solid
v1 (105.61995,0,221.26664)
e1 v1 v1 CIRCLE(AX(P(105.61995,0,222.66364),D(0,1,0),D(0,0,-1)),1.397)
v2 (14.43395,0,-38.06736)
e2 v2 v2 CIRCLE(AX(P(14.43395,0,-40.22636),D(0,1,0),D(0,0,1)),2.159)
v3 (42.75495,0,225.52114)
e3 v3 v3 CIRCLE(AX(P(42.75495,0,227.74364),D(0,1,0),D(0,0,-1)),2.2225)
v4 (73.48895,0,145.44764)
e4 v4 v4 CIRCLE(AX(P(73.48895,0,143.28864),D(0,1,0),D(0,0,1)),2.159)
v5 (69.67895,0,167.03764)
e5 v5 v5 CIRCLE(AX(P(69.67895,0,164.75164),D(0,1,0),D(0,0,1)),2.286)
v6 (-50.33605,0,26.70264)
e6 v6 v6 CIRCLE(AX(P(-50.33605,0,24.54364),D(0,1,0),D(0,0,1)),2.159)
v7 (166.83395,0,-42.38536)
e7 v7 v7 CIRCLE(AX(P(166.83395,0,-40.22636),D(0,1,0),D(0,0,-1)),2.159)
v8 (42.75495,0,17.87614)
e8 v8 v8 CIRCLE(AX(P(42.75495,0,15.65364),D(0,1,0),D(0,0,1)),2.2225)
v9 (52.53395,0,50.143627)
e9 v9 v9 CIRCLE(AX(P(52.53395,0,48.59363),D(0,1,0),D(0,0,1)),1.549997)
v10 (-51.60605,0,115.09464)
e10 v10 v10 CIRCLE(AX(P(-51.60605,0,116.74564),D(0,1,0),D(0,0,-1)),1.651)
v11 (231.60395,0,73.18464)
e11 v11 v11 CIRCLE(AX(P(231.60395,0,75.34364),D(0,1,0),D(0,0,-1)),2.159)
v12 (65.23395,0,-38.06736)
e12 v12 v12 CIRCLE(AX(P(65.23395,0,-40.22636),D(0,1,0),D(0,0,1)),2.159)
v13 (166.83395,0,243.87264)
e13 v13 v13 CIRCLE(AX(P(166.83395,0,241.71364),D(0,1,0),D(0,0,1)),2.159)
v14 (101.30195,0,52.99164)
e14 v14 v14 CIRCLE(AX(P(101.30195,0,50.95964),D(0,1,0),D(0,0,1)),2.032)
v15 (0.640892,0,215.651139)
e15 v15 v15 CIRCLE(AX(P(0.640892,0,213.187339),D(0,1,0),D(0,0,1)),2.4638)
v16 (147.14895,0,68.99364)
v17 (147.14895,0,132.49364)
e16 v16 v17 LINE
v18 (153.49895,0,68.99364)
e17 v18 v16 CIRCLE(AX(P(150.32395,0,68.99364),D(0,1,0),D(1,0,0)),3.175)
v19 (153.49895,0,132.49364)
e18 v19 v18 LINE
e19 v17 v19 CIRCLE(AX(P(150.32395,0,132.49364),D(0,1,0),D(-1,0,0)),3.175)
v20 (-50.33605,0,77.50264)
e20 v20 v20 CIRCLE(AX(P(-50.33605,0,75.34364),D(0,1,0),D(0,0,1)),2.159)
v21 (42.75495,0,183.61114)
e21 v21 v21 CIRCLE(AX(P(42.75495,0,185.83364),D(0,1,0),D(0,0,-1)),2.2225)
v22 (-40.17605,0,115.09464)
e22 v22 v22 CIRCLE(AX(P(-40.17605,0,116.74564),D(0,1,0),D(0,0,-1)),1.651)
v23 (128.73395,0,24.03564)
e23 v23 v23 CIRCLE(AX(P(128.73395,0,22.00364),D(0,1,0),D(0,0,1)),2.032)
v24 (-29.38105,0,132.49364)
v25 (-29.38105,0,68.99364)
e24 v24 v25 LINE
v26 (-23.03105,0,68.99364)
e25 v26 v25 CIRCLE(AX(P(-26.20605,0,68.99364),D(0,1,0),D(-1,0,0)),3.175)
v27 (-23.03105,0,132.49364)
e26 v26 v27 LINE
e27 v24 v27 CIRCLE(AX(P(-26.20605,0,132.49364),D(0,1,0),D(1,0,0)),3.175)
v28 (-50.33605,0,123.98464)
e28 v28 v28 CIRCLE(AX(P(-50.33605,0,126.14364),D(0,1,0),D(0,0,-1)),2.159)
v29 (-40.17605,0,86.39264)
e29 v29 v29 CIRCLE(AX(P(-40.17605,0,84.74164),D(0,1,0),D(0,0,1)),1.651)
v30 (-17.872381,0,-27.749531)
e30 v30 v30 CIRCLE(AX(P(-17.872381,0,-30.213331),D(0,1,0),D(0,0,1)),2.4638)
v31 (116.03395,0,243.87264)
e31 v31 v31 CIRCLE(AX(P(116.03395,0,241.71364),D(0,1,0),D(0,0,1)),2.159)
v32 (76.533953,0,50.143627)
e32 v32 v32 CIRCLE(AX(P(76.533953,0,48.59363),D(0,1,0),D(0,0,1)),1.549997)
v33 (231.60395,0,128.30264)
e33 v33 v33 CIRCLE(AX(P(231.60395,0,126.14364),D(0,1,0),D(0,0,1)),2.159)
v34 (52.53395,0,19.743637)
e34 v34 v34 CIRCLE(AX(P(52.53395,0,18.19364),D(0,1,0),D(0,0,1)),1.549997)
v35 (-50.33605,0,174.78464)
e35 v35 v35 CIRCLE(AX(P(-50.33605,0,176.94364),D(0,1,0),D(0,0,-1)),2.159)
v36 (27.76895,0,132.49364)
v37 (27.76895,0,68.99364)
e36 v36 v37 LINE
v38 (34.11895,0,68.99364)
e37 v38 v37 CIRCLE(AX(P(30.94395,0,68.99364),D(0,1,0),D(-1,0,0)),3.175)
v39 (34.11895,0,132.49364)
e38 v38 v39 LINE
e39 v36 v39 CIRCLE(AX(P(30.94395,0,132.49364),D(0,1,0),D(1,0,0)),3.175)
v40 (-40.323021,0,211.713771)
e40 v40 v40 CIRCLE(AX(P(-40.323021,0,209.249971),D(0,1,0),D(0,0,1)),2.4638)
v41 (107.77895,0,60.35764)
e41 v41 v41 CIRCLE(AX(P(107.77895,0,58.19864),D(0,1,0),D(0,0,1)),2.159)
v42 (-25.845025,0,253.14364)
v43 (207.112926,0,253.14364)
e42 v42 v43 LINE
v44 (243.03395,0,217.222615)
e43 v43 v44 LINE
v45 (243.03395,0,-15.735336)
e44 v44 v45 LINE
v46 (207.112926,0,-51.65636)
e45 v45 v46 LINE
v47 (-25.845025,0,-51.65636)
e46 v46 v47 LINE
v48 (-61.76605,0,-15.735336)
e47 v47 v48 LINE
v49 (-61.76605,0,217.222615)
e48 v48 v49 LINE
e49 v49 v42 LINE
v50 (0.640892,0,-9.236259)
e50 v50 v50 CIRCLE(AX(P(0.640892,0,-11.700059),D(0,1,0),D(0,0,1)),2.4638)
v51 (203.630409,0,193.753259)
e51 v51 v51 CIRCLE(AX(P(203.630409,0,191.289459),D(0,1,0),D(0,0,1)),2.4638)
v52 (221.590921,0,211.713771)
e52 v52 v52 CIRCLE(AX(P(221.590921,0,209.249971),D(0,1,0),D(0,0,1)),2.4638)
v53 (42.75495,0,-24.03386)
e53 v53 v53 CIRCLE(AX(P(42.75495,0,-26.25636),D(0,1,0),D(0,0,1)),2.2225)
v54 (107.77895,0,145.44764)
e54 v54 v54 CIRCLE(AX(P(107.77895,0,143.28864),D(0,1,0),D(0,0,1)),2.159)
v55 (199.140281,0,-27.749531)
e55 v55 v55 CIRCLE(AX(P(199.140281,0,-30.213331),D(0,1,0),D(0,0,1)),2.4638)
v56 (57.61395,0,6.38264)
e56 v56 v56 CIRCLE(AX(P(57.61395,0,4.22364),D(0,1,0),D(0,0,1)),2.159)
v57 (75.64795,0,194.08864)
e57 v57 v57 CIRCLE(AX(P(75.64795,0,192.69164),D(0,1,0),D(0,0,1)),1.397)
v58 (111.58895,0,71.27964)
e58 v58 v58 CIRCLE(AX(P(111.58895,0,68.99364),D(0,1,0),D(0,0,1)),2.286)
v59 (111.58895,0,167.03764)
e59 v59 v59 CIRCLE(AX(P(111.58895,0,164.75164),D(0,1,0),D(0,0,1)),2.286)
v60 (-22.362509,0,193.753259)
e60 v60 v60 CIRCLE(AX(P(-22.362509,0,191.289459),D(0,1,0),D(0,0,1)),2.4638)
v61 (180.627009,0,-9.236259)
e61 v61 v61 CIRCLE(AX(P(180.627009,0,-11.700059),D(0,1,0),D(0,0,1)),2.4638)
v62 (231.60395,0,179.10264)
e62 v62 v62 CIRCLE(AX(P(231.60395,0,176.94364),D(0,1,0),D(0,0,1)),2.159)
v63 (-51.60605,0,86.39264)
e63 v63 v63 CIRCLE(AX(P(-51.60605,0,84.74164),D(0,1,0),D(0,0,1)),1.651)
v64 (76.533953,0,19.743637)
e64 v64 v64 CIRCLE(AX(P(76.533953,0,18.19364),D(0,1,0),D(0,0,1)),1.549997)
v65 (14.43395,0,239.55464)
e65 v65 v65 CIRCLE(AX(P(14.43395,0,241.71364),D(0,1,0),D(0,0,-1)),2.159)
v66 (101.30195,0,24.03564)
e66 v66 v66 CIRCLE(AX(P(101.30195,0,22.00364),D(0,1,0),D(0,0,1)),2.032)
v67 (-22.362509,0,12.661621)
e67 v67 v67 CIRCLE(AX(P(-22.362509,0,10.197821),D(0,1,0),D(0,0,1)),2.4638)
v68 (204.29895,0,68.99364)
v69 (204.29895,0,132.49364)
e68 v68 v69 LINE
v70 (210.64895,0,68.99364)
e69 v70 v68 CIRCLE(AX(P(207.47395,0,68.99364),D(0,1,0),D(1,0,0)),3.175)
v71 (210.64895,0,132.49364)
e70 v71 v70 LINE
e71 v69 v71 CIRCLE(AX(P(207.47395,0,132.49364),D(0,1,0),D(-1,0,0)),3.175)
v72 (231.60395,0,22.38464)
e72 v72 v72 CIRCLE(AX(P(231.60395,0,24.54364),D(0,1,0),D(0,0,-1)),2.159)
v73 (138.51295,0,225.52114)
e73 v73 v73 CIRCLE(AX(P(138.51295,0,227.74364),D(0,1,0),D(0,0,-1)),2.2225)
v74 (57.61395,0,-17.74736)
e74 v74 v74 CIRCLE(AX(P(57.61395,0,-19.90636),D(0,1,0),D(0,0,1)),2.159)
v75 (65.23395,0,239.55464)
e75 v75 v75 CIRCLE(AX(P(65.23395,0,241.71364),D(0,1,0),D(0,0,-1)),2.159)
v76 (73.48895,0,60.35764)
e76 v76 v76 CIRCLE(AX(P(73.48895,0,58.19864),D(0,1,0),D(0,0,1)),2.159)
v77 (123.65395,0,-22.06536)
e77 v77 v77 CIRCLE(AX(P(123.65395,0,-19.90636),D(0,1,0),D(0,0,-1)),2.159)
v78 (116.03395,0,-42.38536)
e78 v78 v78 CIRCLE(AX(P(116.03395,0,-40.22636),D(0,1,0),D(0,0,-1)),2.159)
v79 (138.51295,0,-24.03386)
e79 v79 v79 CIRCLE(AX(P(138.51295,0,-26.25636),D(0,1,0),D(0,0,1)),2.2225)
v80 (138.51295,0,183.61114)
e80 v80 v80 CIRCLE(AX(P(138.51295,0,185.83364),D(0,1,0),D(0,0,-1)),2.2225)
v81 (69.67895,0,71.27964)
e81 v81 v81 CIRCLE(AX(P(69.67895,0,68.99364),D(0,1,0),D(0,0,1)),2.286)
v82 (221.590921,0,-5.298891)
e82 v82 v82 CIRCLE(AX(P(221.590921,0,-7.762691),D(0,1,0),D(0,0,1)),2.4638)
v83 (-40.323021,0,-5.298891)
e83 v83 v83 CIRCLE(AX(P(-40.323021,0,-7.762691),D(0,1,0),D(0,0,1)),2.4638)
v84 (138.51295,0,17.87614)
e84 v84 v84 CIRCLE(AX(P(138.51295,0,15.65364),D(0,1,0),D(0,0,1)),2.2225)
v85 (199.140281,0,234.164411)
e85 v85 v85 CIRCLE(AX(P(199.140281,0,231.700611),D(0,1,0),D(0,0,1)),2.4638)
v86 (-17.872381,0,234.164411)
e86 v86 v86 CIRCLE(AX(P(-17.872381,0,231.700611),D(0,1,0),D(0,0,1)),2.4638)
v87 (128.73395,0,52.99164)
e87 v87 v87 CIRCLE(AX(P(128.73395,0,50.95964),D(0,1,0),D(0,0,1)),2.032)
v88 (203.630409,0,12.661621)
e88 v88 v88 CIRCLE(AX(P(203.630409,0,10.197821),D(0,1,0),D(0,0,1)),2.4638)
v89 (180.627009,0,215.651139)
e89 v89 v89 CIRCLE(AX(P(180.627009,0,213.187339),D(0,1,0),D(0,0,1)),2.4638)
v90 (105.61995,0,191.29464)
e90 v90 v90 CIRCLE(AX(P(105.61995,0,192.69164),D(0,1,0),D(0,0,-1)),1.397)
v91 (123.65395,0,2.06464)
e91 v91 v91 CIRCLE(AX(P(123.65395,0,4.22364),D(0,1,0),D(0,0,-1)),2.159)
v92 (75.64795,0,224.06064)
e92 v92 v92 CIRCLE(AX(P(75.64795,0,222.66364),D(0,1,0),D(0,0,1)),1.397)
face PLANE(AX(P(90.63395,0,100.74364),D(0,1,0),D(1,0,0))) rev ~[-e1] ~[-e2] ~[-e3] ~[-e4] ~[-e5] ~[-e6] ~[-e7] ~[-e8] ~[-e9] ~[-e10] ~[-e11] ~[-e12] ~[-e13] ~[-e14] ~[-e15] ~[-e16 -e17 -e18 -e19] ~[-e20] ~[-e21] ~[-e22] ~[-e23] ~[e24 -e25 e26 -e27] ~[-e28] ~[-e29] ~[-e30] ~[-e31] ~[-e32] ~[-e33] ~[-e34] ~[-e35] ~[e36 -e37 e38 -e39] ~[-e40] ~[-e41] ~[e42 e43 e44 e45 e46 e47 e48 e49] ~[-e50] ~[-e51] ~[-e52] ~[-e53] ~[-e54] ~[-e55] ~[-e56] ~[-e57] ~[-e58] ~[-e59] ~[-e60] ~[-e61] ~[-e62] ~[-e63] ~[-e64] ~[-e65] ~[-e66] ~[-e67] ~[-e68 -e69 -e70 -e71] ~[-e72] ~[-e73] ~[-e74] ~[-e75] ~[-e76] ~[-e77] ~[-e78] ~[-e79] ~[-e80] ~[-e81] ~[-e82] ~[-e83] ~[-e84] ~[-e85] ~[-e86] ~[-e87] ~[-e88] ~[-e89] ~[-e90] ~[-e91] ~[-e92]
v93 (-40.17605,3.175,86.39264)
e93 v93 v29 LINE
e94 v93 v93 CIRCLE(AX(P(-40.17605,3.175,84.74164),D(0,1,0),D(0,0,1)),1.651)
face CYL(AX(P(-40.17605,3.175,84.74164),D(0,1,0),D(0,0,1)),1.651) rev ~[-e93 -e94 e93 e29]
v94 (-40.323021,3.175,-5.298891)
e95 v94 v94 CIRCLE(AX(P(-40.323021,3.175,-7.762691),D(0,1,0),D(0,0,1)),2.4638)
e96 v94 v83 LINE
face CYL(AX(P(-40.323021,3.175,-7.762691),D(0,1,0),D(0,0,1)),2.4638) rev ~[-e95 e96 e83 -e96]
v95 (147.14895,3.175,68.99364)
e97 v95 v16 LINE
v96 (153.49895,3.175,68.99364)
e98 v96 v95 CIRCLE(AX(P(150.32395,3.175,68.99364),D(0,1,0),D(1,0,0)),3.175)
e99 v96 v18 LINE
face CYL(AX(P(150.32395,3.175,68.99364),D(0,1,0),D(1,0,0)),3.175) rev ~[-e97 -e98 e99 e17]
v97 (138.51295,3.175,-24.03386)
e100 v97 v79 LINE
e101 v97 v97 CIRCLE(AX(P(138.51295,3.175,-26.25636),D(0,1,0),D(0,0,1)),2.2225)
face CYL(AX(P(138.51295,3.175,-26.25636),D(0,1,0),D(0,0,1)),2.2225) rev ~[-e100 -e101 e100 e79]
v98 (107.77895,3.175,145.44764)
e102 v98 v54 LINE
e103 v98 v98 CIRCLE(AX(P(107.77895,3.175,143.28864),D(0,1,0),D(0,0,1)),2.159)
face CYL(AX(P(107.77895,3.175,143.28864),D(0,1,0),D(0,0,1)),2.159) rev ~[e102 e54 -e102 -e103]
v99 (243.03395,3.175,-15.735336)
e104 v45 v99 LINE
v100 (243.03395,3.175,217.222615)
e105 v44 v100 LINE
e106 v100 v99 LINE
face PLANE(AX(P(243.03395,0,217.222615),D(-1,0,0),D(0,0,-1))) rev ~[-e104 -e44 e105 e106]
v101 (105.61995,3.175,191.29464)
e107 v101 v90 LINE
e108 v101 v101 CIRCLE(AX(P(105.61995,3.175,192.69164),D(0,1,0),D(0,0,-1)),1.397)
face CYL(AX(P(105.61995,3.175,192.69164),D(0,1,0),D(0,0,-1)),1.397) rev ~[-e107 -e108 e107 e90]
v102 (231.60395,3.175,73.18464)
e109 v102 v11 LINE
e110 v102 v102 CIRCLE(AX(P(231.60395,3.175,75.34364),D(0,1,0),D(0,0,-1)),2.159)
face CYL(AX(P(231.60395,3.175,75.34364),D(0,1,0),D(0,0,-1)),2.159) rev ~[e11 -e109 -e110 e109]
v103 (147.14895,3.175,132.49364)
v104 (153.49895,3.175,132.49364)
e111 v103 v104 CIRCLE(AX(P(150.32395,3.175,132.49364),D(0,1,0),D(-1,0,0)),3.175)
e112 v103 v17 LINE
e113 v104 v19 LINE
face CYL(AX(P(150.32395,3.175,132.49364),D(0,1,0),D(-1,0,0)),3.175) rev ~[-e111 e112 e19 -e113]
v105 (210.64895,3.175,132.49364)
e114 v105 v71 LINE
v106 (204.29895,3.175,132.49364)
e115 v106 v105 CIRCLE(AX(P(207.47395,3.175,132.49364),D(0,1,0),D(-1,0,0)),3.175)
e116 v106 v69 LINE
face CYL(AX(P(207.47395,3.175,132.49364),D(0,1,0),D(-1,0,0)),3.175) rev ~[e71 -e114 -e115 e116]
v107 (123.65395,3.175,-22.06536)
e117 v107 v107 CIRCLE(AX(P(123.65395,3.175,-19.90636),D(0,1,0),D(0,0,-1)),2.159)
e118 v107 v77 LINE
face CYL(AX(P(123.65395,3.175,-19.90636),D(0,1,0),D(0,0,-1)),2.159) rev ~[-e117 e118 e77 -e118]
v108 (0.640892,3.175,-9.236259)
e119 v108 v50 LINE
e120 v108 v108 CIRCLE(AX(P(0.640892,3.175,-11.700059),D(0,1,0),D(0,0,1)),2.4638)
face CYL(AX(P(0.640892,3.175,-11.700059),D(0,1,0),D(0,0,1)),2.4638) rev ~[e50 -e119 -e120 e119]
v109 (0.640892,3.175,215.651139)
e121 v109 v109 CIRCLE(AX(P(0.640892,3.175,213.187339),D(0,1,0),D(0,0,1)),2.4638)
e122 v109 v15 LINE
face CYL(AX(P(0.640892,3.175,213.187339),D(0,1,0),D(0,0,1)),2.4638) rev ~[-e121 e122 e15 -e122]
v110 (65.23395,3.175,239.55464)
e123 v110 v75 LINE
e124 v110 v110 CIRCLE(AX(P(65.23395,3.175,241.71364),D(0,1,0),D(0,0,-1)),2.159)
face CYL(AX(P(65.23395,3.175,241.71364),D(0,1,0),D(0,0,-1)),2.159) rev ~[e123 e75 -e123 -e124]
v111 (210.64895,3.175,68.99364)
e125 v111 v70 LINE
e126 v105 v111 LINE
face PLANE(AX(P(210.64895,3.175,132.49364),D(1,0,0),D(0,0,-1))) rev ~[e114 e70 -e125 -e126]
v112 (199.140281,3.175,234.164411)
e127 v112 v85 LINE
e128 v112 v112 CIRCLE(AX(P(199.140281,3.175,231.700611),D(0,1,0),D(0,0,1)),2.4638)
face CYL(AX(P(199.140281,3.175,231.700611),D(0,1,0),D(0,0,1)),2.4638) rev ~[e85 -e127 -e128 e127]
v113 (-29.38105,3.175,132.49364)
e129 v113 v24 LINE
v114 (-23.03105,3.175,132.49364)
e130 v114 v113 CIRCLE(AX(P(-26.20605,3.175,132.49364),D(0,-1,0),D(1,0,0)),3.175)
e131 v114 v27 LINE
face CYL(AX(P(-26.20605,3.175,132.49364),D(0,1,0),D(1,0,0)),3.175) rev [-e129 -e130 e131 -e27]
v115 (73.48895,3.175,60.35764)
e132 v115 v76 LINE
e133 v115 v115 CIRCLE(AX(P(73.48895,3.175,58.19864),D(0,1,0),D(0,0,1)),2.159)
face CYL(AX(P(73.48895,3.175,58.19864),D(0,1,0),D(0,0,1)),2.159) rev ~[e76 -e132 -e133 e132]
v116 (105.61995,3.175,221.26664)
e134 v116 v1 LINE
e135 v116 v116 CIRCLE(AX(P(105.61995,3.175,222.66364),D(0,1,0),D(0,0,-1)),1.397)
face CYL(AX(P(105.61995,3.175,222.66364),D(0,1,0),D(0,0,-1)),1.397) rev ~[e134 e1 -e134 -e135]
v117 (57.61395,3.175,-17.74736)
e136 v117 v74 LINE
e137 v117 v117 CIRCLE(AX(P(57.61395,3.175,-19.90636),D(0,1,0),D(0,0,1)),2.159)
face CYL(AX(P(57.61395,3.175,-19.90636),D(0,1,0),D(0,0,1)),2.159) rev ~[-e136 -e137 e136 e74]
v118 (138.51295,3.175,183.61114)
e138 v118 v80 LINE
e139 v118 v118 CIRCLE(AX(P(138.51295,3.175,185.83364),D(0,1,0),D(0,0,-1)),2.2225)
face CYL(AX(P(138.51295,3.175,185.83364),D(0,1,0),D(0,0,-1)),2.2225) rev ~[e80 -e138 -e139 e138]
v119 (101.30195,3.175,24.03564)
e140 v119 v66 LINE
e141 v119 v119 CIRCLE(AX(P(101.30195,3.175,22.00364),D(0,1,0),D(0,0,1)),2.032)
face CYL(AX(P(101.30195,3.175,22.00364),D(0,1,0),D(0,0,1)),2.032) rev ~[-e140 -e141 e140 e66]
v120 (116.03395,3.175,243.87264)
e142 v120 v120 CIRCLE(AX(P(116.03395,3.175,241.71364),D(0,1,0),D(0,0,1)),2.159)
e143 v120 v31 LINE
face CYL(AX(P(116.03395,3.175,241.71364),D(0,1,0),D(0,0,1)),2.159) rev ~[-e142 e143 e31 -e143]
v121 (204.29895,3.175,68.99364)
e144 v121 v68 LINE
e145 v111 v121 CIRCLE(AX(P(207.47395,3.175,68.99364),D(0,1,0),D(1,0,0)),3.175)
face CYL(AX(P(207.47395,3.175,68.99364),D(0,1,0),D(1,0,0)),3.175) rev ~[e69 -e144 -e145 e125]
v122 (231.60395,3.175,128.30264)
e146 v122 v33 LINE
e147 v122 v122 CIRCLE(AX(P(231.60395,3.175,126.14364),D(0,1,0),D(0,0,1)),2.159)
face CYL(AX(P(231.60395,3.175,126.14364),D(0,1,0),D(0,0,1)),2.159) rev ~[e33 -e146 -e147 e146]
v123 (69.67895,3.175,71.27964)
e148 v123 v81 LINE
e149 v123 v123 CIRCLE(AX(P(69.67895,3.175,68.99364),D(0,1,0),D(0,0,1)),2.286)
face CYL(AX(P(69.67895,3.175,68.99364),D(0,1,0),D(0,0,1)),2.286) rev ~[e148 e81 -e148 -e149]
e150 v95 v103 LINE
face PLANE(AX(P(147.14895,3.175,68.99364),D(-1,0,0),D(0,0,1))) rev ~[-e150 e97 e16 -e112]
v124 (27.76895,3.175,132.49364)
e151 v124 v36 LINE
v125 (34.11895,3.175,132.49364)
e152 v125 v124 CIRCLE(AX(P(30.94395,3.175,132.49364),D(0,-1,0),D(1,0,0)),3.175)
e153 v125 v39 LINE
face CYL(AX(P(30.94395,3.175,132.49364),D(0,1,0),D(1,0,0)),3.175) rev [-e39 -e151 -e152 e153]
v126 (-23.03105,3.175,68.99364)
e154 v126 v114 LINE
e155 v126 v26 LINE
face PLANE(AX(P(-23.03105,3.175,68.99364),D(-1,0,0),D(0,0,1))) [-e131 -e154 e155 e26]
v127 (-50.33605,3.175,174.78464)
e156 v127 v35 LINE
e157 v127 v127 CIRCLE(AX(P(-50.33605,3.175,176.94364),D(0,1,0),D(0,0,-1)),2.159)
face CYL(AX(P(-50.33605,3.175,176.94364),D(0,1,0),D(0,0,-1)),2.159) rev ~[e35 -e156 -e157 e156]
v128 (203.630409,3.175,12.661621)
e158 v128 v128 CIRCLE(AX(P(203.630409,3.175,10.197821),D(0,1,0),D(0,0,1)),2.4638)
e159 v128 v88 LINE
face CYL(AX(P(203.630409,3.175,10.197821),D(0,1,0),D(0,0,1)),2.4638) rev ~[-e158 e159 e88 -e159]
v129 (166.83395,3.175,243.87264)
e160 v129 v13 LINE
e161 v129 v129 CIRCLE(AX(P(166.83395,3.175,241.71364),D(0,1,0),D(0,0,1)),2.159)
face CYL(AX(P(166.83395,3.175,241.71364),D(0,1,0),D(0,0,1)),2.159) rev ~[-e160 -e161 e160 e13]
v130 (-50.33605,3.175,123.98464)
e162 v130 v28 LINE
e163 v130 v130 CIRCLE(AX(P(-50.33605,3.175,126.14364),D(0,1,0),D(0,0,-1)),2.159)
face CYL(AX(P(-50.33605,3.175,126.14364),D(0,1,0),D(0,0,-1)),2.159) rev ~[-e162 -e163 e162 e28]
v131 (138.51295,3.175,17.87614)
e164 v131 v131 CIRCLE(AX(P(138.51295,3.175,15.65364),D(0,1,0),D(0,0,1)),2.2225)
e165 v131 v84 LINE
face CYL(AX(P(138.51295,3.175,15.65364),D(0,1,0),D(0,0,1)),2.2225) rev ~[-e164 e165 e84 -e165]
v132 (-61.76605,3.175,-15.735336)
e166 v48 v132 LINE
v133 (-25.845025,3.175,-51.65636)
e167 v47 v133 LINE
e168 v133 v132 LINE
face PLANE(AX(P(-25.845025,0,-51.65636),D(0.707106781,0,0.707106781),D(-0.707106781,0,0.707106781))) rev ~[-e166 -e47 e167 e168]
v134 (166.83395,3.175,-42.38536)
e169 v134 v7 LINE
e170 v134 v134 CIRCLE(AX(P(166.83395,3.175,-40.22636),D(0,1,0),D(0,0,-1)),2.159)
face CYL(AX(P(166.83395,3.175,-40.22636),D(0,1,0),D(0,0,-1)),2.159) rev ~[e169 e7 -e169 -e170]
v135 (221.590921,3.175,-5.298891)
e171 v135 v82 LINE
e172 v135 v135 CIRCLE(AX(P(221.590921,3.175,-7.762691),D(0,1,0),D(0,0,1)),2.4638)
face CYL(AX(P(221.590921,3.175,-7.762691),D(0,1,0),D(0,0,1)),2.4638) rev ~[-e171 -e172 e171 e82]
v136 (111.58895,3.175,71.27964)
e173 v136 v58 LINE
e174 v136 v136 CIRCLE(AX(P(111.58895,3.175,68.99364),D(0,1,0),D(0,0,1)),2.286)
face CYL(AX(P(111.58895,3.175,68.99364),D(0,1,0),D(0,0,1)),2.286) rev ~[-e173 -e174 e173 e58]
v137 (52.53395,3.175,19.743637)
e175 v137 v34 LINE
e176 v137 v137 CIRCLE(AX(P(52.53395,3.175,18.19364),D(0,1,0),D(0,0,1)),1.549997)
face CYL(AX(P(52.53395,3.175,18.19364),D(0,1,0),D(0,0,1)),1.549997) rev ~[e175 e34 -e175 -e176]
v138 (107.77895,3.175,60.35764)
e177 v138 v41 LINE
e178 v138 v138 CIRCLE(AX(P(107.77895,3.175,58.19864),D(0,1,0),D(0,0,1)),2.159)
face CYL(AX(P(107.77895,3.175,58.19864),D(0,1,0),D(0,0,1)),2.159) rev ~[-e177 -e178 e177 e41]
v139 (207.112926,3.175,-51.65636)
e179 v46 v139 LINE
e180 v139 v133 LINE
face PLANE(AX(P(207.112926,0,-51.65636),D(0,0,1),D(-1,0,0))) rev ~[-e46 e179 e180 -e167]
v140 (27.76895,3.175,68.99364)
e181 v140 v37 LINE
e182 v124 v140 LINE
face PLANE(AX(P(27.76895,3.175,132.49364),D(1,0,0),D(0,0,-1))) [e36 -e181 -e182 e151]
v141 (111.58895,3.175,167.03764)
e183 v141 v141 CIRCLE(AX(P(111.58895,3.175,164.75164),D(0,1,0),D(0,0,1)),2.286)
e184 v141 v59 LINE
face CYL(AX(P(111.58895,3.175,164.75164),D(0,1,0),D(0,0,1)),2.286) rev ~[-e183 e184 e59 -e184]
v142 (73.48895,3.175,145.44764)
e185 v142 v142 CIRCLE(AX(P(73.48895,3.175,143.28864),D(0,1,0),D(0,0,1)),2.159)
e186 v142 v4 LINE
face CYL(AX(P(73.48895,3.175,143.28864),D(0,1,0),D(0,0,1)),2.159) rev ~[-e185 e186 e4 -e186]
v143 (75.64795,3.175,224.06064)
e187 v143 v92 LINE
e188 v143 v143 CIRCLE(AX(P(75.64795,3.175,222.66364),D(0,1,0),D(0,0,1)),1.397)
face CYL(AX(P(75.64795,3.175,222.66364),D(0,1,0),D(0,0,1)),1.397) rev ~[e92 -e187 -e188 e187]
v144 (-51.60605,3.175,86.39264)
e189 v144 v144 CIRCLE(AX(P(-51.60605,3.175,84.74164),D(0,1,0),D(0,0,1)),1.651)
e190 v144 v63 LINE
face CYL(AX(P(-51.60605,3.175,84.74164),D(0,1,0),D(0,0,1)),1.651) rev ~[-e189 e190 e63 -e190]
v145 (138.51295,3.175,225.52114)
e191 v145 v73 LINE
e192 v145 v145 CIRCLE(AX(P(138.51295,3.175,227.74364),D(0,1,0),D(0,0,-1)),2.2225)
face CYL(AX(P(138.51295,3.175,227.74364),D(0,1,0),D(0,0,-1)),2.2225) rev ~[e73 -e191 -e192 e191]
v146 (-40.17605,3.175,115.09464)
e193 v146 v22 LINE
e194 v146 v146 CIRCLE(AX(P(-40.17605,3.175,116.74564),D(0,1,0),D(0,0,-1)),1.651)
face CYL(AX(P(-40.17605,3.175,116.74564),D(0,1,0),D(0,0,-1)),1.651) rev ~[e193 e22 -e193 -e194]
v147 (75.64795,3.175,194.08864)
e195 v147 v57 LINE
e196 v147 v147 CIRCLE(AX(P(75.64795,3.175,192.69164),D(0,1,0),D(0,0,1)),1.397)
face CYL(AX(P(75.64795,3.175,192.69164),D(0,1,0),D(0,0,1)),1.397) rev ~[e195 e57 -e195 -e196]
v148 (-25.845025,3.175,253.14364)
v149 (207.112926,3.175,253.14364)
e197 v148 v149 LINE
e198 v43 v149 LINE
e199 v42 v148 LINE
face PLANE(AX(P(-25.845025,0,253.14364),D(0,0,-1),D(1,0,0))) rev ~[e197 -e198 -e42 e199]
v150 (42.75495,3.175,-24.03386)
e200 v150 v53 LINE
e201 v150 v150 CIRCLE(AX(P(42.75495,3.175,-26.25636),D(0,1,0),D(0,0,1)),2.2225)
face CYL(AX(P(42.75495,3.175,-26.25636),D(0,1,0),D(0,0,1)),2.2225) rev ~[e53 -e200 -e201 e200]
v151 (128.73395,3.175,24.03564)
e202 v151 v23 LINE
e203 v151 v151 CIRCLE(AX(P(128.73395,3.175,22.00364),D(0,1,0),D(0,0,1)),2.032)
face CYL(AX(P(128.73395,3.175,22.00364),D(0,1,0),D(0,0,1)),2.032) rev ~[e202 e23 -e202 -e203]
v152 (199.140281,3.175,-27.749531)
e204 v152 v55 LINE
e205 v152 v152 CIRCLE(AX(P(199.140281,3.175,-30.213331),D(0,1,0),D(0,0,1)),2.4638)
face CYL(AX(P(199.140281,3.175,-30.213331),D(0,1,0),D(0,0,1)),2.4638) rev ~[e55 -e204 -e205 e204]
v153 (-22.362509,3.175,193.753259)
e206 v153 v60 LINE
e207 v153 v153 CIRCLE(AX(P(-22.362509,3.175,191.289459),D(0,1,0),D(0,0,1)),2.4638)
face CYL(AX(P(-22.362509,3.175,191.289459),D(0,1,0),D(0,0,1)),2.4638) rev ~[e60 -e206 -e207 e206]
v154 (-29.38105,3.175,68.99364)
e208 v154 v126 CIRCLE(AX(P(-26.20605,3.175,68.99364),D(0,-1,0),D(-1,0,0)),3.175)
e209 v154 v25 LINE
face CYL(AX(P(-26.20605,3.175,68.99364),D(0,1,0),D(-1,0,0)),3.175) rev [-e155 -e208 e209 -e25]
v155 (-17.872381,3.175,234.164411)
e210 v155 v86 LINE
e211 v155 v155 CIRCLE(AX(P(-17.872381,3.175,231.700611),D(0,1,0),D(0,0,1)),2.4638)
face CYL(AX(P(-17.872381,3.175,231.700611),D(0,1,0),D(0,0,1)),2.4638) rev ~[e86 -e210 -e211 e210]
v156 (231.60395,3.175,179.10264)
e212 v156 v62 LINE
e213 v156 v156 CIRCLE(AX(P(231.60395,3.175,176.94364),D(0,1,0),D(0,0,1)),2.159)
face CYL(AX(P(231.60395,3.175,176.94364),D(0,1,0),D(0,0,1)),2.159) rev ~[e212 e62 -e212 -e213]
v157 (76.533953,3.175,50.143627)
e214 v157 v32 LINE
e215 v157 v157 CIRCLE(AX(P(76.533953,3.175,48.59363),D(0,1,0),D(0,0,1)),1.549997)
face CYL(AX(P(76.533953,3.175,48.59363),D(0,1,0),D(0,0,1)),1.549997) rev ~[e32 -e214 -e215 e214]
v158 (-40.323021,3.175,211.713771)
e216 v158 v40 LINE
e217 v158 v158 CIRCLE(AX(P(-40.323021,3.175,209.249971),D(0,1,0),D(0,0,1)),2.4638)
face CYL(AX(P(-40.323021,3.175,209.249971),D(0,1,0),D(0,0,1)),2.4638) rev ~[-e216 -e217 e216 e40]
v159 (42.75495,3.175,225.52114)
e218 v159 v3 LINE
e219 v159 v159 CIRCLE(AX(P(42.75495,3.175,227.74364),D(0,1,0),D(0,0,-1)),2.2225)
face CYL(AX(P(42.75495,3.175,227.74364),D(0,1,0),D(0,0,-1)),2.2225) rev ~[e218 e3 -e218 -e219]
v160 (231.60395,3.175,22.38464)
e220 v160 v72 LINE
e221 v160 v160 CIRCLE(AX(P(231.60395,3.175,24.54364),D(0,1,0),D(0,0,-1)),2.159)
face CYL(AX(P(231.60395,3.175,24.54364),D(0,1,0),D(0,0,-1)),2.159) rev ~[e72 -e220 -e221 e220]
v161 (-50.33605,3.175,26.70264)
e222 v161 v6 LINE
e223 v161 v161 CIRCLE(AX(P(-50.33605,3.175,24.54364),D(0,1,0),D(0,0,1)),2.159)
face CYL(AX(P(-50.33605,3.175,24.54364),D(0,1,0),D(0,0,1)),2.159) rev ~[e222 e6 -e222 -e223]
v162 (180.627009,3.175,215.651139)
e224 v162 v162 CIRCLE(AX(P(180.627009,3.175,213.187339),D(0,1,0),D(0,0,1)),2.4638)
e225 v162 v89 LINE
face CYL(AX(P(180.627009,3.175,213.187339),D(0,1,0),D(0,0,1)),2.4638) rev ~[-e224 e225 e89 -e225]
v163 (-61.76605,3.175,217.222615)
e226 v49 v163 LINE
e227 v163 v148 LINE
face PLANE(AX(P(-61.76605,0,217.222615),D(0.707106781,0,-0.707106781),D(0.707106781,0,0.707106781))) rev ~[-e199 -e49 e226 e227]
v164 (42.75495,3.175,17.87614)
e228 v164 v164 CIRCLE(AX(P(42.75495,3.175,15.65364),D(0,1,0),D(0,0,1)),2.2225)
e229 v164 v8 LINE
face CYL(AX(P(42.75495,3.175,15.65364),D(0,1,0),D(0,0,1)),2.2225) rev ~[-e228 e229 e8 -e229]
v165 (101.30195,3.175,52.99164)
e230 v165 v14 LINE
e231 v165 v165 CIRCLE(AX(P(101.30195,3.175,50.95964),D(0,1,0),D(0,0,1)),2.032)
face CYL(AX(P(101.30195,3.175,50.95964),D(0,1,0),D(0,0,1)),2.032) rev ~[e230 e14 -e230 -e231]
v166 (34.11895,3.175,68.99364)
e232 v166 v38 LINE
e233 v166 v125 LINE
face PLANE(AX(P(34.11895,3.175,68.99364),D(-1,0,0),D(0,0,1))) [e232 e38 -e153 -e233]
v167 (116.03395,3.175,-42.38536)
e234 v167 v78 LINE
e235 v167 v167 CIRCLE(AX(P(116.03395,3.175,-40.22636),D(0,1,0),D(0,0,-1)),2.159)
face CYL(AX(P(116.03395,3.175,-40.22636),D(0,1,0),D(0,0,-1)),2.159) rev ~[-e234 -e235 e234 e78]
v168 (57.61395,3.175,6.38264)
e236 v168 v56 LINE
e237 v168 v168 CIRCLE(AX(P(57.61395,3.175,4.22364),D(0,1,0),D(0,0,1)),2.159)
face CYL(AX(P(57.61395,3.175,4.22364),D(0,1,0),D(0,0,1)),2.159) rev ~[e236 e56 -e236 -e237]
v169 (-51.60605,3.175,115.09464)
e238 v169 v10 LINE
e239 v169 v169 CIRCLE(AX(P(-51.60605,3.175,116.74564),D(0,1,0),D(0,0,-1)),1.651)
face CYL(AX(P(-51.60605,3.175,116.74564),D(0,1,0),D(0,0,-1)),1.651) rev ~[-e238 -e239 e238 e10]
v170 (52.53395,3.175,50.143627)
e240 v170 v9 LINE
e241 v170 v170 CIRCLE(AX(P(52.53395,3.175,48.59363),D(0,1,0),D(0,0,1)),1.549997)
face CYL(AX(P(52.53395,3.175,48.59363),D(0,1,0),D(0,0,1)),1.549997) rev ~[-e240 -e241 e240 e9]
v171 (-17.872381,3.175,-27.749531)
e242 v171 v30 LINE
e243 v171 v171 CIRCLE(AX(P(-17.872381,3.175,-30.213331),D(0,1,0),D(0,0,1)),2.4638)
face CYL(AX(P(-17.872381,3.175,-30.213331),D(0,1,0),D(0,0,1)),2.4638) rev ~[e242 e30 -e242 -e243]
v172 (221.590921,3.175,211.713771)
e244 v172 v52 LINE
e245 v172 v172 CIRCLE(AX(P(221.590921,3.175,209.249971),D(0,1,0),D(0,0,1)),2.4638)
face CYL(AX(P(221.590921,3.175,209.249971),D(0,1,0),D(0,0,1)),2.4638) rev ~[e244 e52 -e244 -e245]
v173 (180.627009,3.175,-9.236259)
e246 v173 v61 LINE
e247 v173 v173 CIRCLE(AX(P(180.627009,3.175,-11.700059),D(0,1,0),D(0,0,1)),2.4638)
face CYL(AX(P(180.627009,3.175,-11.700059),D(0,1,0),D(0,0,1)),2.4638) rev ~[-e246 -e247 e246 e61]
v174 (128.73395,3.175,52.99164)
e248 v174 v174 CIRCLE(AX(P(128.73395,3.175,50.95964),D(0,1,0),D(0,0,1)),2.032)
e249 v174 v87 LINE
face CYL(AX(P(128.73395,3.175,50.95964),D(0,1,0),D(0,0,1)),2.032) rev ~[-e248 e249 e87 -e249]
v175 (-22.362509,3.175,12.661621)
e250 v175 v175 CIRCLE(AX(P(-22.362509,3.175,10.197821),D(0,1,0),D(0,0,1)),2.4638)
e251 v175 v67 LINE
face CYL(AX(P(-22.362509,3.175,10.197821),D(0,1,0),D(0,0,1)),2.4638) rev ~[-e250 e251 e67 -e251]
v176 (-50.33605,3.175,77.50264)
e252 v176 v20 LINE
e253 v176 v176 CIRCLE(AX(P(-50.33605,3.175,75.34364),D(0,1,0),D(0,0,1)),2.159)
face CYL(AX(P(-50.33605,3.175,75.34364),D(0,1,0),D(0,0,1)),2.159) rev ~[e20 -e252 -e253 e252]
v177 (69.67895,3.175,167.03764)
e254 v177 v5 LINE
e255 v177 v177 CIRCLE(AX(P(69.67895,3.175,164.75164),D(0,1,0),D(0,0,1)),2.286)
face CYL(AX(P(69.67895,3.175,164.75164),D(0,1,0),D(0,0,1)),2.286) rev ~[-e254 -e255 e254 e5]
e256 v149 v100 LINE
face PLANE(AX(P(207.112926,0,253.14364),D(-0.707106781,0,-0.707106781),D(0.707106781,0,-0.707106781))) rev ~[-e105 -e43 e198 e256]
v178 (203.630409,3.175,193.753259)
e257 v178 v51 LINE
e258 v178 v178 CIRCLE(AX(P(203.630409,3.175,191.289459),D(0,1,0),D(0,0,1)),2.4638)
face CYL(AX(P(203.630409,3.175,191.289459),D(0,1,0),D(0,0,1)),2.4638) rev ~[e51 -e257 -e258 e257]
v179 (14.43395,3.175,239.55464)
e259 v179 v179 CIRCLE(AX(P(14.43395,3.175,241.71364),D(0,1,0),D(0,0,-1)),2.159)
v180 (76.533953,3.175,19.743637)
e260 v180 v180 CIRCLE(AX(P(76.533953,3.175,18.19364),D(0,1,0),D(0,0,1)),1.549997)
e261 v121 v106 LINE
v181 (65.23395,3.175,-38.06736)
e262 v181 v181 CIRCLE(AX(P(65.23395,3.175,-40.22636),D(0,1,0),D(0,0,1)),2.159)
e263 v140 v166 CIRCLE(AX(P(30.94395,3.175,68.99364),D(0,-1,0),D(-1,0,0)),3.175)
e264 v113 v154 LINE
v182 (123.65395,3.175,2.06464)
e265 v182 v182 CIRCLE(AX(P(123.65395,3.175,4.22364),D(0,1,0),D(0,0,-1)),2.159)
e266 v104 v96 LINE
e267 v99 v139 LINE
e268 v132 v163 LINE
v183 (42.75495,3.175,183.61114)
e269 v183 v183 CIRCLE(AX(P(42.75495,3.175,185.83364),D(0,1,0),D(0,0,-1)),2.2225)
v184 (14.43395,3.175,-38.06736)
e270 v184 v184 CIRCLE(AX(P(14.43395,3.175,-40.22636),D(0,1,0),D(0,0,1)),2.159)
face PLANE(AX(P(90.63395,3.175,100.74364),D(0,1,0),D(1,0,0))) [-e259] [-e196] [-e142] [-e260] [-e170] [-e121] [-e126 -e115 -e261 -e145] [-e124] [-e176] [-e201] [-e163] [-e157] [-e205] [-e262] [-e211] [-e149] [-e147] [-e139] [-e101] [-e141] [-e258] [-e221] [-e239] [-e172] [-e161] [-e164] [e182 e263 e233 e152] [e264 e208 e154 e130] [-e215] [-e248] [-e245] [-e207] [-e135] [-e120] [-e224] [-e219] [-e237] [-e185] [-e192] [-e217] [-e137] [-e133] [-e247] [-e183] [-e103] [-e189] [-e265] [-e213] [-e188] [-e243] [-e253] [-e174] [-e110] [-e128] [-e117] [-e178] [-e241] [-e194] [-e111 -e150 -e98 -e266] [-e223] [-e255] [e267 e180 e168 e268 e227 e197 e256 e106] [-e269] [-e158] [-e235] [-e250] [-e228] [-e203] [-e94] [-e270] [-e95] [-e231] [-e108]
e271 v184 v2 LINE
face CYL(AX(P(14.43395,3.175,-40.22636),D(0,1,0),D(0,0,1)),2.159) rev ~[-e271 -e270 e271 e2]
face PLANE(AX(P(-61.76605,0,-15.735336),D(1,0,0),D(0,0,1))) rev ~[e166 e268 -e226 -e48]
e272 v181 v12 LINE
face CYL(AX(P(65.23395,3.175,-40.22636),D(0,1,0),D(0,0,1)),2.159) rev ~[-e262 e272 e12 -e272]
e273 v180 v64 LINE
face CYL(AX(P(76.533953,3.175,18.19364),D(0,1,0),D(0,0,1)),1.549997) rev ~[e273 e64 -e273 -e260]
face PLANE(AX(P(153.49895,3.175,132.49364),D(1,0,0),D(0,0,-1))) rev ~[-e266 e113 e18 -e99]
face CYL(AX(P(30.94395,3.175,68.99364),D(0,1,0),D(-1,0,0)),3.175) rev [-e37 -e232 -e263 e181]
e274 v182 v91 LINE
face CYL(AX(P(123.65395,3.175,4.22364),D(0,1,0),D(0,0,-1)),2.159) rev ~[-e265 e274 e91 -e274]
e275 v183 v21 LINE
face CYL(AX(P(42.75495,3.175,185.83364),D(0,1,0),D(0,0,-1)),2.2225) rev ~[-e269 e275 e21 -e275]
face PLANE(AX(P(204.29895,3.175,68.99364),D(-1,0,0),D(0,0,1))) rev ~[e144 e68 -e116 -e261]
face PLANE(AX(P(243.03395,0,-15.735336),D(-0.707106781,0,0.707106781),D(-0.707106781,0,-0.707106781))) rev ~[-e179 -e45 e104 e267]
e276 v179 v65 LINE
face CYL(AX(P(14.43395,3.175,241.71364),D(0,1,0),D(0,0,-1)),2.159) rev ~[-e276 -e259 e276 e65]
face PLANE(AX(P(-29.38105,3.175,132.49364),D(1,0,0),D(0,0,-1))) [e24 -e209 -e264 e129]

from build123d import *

# Parameters (mm, degrees)
BOSS_EXTRUDE1_DEPTH = 3.175
SKETCH2_R           = 2.4638
CUT_EXTRUDE1_DEPTH  = 6.35
SKETCH3_R           = 2.159
CUT_EXTRUDE2_DEPTH  = 6.35
SKETCH4_R           = 2.2225
SKETCH4_R_2         = 2.286
CUT_EXTRUDE3_DEPTH  = 351.937720963
SKETCH5_R           = 1.651
CUT_EXTRUDE4_DEPTH  = 351.937720963
SKETCH6_R           = 2.032
SKETCH6_R_2         = 2.159
SKETCH6_R_3         = 1.397
SKETCH6_R_4         = 1.5499969
CUT_EXTRUDE5_DEPTH  = 351.937720963
SKETCH7_R           = 2.159
CUT_EXTRUDE6_DEPTH  = 351.937720963
CUT_EXTRUDE8_DEPTH  = 351.937720963


with BuildPart() as part:
    # Sketch1 → Boss-Extrude1 (new body)
    with BuildSketch(Plane(origin=(0, 0, 0), x_dir=(1, 0, 0), z_dir=(0, 1, 0))):
        Polygon((-25.845025354, 51.656360067), (-61.766049839, 15.735335583), (-61.766049839, -217.222615449), (-25.845025354, -253.143639933), (207.112925677, -253.143639933), (243.033950161, -217.222615449), (243.033950161, 15.735335583), (207.112925677, 51.656360067), align=None)
    extrude(amount=BOSS_EXTRUDE1_DEPTH)

    # Sketch2 → Cut-Extrude1 (cut)
    with BuildSketch(Plane(origin=(0, 3.175, 0), x_dir=(1, 0, 0), z_dir=(0, 1, 0))):
        with Locations(Location((-17.872380726, 30.213331256, 0), (0, 0, 270))):
            Circle(SKETCH2_R)
        with Locations(Location((0.640891541, 11.70005899, 0), (0, 0, 270))):
            Circle(SKETCH2_R)
        with Locations(Location((-22.362508786, -10.197821288, 0), (0, 0, 270))):
            Circle(SKETCH2_R)
        with Locations(Location((-40.323021028, 7.762690954, 0), (0, 0, 270))):
            Circle(SKETCH2_R)
        with Locations(Location((203.630409109, -10.197821288, 0), (0, 0, 270))):
            Circle(SKETCH2_R)
        with Locations(Location((221.590921351, 7.762690954, 0), (0, 0, 270))):
            Circle(SKETCH2_R)
        with Locations(Location((180.627008782, 11.70005899, 0), (0, 0, 270))):
            Circle(SKETCH2_R)
        with Locations(Location((199.140281048, 30.213331256, 0), (0, 0, 270))):
            Circle(SKETCH2_R)
        with Locations(Location((-22.362508786, -191.289458578, 0), (0, 0, 270))):
            Circle(SKETCH2_R)
        with Locations(Location((-40.323021028, -209.24997082, 0), (0, 0, 270))):
            Circle(SKETCH2_R)
        with Locations(Location((-17.872380726, -231.700611123, 0), (0, 0, 270))):
            Circle(SKETCH2_R)
        with Locations(Location((0.640891541, -213.187338857, 0), (0, 0, 270))):
            Circle(SKETCH2_R)
        with Locations(Location((221.590921351, -209.24997082, 0), (0, 0, 270))):
            Circle(SKETCH2_R)
        with Locations(Location((199.140281048, -231.700611123, 0), (0, 0, 270))):
            Circle(SKETCH2_R)
        with Locations(Location((180.627008782, -213.187338857, 0), (0, 0, 270))):
            Circle(SKETCH2_R)
        with Locations(Location((203.630409109, -191.289458578, 0), (0, 0, 270))):
            Circle(SKETCH2_R)
    extrude(amount=-CUT_EXTRUDE1_DEPTH, mode=Mode.SUBTRACT)

    # Sketch3 → Cut-Extrude2 (cut)
    with BuildSketch(Plane(origin=(0, 3.175, 0), x_dir=(1, 0, 0), z_dir=(0, 1, 0))):
        with Locations(Location((73.488950161, -58.198639933, 0), (0, 0, 270))):
            Circle(SKETCH3_R)
        with Locations(Location((107.778950161, -58.198639933, 0), (0, 0, 270))):
            Circle(SKETCH3_R)
        with Locations(Location((73.488950161, -143.288639933, 0), (0, 0, 270))):
            Circle(SKETCH3_R)
        with Locations(Location((107.778950161, -143.288639933, 0), (0, 0, 270))):
            Circle(SKETCH3_R)
    extrude(amount=-CUT_EXTRUDE2_DEPTH, mode=Mode.SUBTRACT)

    # Sketch4 → Cut-Extrude3 (cut, through all)
    with BuildSketch(Plane(origin=(0, 3.175, 0), x_dir=(1, 0, 0), z_dir=(0, 1, 0))):
        with Locations(Location((42.754950161, 26.256360067, 0), (0, 0, 270))):
            Circle(SKETCH4_R)
        with Locations(Location((138.512950161, 26.256360067, 0), (0, 0, 270))):
            Circle(SKETCH4_R)
        with Locations(Location((42.754950161, -15.653639933, 0), (0, 0, 270))):
            Circle(SKETCH4_R)
        with Locations(Location((138.512950161, -15.653639933, 0), (0, 0, 270))):
            Circle(SKETCH4_R)
        with Locations(Location((138.512950161, -185.833639933, 0), (0, 0, 90))):
            Circle(SKETCH4_R)
        with Locations(Location((42.754950161, -185.833639933, 0), (0, 0, 90))):
            Circle(SKETCH4_R)
        with Locations(Location((138.512950161, -227.743639933, 0), (0, 0, 90))):
            Circle(SKETCH4_R)
        with Locations(Location((42.754950161, -227.743639933, 0), (0, 0, 90))):
            Circle(SKETCH4_R)
        with Locations(Location((69.678950161, -68.993639933, 0), (0, 0, 270))):
            Circle(SKETCH4_R_2)
        with Locations(Location((111.588950161, -68.993639933, 0), (0, 0, 270))):
            Circle(SKETCH4_R_2)
        with Locations(Location((69.678950161, -164.751639933, 0), (0, 0, 270))):
            Circle(SKETCH4_R_2)
        with Locations(Location((111.588950161, -164.751639933, 0), (0, 0, 270))):
            Circle(SKETCH4_R_2)
    extrude(amount=-CUT_EXTRUDE3_DEPTH, mode=Mode.SUBTRACT)

    # Sketch5 → Cut-Extrude4 (cut, through all)
    with BuildSketch(Plane(origin=(0, 3.175, 0), x_dir=(1, 0, 0), z_dir=(0, 1, 0))):
        with Locations(Location((-51.606049839, -84.741639933, 0), (0, 0, 270))):
            Circle(SKETCH5_R)
        with Locations(Location((-40.176049839, -84.741639933, 0), (0, 0, 270))):
            Circle(SKETCH5_R)
        with Locations(Location((-40.176049839, -116.745639933, 0), (0, 0, 90))):
            Circle(SKETCH5_R)
        with Locations(Location((-51.606049839, -116.745639933, 0), (0, 0, 90))):
            Circle(SKETCH5_R)
    extrude(amount=-CUT_EXTRUDE4_DEPTH, mode=Mode.SUBTRACT)

    # Sketch6 → Cut-Extrude5 (cut, through all)
    with BuildSketch(Plane(origin=(0, 3.175, 0), x_dir=(1, 0, 0), z_dir=(0, 1, 0))):
        with Locations(Location((101.301950161, -22.003639933, 0), (0, 0, 270))):
            Circle(SKETCH6_R)
        with Locations(Location((101.301950161, -50.959639933, 0), (0, 0, 270))):
            Circle(SKETCH6_R)
        with Locations(Location((128.733950161, -50.959639933, 0), (0, 0, 270))):
            Circle(SKETCH6_R)
        with Locations(Location((128.733950161, -22.003639933, 0), (0, 0, 270))):
            Circle(SKETCH6_R)
        with Locations(Location((57.613950161, 19.906360067, 0), (0, 0, 270))):
            Circle(SKETCH6_R_2)
        with Locations(Location((57.613950161, -4.223639933, 0), (0, 0, 270))):
            Circle(SKETCH6_R_2)
        with Locations(Location((123.653950161, -4.223639933, 0), (0, 0, 90))):
            Circle(SKETCH6_R_2)
        with Locations(Location((123.653950161, 19.906360067, 0), (0, 0, 90))):
            Circle(SKETCH6_R_2)
        with Locations(Location((75.647950161, -192.691639933, 0), (0, 0, 270))):
            Circle(SKETCH6_R_3)
        with Locations(Location((75.647950161, -222.663639933, 0), (0, 0, 270))):
            Circle(SKETCH6_R_3)
        with Locations(Location((105.619950161, -222.663639933, 0), (0, 0, 90))):
            Circle(SKETCH6_R_3)
        with Locations(Location((105.619950161, -192.691639933, 0), (0, 0, 90))):
            Circle(SKETCH6_R_3)
        with Locations(Location((52.533950161, -18.193639933, 0), (0, 0, 270))):
            Circle(SKETCH6_R_4)
        with Locations(Location((52.533950161, -48.593629933, 0), (0, 0, 270))):
            Circle(SKETCH6_R_4)
        with Locations(Location((76.533952961, -18.193639933, 0), (0, 0, 270))):
            Circle(SKETCH6_R_4)
        with Locations(Location((76.533952961, -48.593629933, 0), (0, 0, 270))):
            Circle(SKETCH6_R_4)
    extrude(amount=-CUT_EXTRUDE5_DEPTH, mode=Mode.SUBTRACT)

    # Sketch7 → Cut-Extrude6 (cut, through all)
    with BuildSketch(Plane(origin=(0, 3.175, 0), x_dir=(1, 0, 0), z_dir=(0, 1, 0))):
        with Locations(Location((65.233950161, 40.226360067, 0), (0, 0, 270))):
            Circle(SKETCH7_R)
        with Locations(Location((14.433950161, 40.226360067, 0), (0, 0, 270))):
            Circle(SKETCH7_R)
        with Locations(Location((-50.336049839, -75.343639933, 0), (0, 0, 270))):
            Circle(SKETCH7_R)
        with Locations(Location((-50.336049839, -24.543639933, 0), (0, 0, 270))):
            Circle(SKETCH7_R)
        with Locations(Location((231.603950161, -24.543639933, 0), (0, 0, 90))):
            Circle(SKETCH7_R)
        with Locations(Location((231.603950161, -75.343639933, 0), (0, 0, 90))):
            Circle(SKETCH7_R)
        with Locations(Location((166.833950161, 40.226360067, 0), (0, 0, 90))):
            Circle(SKETCH7_R)
        with Locations(Location((116.033950161, 40.226360067, 0), (0, 0, 90))):
            Circle(SKETCH7_R)
        with Locations(Location((116.033950161, -241.713639933, 0), (0, 0, 270))):
            Circle(SKETCH7_R)
        with Locations(Location((166.833950161, -241.713639933, 0), (0, 0, 270))):
            Circle(SKETCH7_R)
        with Locations(Location((231.603950161, -126.143639933, 0), (0, 0, 270))):
            Circle(SKETCH7_R)
        with Locations(Location((231.603950161, -176.943639933, 0), (0, 0, 270))):
            Circle(SKETCH7_R)
        with Locations(Location((-50.336049839, -176.943639933, 0), (0, 0, 90))):
            Circle(SKETCH7_R)
        with Locations(Location((-50.336049839, -126.143639933, 0), (0, 0, 90))):
            Circle(SKETCH7_R)
        with Locations(Location((14.433950161, -241.713639933, 0), (0, 0, 90))):
            Circle(SKETCH7_R)
        with Locations(Location((65.233950161, -241.713639933, 0), (0, 0, 90))):
            Circle(SKETCH7_R)
    extrude(amount=-CUT_EXTRUDE6_DEPTH, mode=Mode.SUBTRACT)

    # Sketch8 → Cut-Extrude8 (cut, through all)
    with BuildSketch(Plane(origin=(0, 3.175, 0), x_dir=(1, 0, 0), z_dir=(0, 1, 0))):
        with BuildLine():
            Line((-23.031049839, -68.993639933), (-23.031049839, -132.493639933))
            ThreePointArc((-23.031049839, -132.493639933), (-26.206049839, -135.668639933), (-29.381049839, -132.493639933))
            Line((-29.381049839, -132.493639933), (-29.381049839, -68.993639933))
            ThreePointArc((-29.381049839, -68.993639933), (-26.206049839, -65.818639933), (-23.031049839, -68.993639933))
        make_face()
        with BuildLine():
            Line((34.118950161, -68.993639933), (34.118950161, -132.493639933))
            ThreePointArc((34.118950161, -132.493639933), (30.943950161, -135.668639933), (27.768950161, -132.493639933))
            Line((27.768950161, -132.493639933), (27.768950161, -68.993639933))
            ThreePointArc((27.768950161, -68.993639933), (30.943950161, -65.818639933), (34.118950161, -68.993639933))
        make_face()
        with BuildLine():
            Line((204.298950161, -68.993639933), (204.298950161, -132.493639933))
            ThreePointArc((204.298950161, -132.493639933), (207.473950161, -135.668639933), (210.648950161, -132.493639933))
            Line((210.648950161, -132.493639933), (210.648950161, -68.993639933))
            ThreePointArc((210.648950161, -68.993639933), (207.473950161, -65.818639933), (204.298950161, -68.993639933))
        make_face()
        with BuildLine():
            Line((147.148950161, -68.993639933), (147.148950161, -132.493639933))
            ThreePointArc((147.148950161, -132.493639933), (150.323950161, -135.668639933), (153.498950161, -132.493639933))
            Line((153.498950161, -132.493639933), (153.498950161, -68.993639933))
            ThreePointArc((153.498950161, -68.993639933), (150.323950161, -65.818639933), (147.148950161, -68.993639933))
        make_face()
    extrude(amount=-CUT_EXTRUDE8_DEPTH, mode=Mode.SUBTRACT)


solid = part.part
